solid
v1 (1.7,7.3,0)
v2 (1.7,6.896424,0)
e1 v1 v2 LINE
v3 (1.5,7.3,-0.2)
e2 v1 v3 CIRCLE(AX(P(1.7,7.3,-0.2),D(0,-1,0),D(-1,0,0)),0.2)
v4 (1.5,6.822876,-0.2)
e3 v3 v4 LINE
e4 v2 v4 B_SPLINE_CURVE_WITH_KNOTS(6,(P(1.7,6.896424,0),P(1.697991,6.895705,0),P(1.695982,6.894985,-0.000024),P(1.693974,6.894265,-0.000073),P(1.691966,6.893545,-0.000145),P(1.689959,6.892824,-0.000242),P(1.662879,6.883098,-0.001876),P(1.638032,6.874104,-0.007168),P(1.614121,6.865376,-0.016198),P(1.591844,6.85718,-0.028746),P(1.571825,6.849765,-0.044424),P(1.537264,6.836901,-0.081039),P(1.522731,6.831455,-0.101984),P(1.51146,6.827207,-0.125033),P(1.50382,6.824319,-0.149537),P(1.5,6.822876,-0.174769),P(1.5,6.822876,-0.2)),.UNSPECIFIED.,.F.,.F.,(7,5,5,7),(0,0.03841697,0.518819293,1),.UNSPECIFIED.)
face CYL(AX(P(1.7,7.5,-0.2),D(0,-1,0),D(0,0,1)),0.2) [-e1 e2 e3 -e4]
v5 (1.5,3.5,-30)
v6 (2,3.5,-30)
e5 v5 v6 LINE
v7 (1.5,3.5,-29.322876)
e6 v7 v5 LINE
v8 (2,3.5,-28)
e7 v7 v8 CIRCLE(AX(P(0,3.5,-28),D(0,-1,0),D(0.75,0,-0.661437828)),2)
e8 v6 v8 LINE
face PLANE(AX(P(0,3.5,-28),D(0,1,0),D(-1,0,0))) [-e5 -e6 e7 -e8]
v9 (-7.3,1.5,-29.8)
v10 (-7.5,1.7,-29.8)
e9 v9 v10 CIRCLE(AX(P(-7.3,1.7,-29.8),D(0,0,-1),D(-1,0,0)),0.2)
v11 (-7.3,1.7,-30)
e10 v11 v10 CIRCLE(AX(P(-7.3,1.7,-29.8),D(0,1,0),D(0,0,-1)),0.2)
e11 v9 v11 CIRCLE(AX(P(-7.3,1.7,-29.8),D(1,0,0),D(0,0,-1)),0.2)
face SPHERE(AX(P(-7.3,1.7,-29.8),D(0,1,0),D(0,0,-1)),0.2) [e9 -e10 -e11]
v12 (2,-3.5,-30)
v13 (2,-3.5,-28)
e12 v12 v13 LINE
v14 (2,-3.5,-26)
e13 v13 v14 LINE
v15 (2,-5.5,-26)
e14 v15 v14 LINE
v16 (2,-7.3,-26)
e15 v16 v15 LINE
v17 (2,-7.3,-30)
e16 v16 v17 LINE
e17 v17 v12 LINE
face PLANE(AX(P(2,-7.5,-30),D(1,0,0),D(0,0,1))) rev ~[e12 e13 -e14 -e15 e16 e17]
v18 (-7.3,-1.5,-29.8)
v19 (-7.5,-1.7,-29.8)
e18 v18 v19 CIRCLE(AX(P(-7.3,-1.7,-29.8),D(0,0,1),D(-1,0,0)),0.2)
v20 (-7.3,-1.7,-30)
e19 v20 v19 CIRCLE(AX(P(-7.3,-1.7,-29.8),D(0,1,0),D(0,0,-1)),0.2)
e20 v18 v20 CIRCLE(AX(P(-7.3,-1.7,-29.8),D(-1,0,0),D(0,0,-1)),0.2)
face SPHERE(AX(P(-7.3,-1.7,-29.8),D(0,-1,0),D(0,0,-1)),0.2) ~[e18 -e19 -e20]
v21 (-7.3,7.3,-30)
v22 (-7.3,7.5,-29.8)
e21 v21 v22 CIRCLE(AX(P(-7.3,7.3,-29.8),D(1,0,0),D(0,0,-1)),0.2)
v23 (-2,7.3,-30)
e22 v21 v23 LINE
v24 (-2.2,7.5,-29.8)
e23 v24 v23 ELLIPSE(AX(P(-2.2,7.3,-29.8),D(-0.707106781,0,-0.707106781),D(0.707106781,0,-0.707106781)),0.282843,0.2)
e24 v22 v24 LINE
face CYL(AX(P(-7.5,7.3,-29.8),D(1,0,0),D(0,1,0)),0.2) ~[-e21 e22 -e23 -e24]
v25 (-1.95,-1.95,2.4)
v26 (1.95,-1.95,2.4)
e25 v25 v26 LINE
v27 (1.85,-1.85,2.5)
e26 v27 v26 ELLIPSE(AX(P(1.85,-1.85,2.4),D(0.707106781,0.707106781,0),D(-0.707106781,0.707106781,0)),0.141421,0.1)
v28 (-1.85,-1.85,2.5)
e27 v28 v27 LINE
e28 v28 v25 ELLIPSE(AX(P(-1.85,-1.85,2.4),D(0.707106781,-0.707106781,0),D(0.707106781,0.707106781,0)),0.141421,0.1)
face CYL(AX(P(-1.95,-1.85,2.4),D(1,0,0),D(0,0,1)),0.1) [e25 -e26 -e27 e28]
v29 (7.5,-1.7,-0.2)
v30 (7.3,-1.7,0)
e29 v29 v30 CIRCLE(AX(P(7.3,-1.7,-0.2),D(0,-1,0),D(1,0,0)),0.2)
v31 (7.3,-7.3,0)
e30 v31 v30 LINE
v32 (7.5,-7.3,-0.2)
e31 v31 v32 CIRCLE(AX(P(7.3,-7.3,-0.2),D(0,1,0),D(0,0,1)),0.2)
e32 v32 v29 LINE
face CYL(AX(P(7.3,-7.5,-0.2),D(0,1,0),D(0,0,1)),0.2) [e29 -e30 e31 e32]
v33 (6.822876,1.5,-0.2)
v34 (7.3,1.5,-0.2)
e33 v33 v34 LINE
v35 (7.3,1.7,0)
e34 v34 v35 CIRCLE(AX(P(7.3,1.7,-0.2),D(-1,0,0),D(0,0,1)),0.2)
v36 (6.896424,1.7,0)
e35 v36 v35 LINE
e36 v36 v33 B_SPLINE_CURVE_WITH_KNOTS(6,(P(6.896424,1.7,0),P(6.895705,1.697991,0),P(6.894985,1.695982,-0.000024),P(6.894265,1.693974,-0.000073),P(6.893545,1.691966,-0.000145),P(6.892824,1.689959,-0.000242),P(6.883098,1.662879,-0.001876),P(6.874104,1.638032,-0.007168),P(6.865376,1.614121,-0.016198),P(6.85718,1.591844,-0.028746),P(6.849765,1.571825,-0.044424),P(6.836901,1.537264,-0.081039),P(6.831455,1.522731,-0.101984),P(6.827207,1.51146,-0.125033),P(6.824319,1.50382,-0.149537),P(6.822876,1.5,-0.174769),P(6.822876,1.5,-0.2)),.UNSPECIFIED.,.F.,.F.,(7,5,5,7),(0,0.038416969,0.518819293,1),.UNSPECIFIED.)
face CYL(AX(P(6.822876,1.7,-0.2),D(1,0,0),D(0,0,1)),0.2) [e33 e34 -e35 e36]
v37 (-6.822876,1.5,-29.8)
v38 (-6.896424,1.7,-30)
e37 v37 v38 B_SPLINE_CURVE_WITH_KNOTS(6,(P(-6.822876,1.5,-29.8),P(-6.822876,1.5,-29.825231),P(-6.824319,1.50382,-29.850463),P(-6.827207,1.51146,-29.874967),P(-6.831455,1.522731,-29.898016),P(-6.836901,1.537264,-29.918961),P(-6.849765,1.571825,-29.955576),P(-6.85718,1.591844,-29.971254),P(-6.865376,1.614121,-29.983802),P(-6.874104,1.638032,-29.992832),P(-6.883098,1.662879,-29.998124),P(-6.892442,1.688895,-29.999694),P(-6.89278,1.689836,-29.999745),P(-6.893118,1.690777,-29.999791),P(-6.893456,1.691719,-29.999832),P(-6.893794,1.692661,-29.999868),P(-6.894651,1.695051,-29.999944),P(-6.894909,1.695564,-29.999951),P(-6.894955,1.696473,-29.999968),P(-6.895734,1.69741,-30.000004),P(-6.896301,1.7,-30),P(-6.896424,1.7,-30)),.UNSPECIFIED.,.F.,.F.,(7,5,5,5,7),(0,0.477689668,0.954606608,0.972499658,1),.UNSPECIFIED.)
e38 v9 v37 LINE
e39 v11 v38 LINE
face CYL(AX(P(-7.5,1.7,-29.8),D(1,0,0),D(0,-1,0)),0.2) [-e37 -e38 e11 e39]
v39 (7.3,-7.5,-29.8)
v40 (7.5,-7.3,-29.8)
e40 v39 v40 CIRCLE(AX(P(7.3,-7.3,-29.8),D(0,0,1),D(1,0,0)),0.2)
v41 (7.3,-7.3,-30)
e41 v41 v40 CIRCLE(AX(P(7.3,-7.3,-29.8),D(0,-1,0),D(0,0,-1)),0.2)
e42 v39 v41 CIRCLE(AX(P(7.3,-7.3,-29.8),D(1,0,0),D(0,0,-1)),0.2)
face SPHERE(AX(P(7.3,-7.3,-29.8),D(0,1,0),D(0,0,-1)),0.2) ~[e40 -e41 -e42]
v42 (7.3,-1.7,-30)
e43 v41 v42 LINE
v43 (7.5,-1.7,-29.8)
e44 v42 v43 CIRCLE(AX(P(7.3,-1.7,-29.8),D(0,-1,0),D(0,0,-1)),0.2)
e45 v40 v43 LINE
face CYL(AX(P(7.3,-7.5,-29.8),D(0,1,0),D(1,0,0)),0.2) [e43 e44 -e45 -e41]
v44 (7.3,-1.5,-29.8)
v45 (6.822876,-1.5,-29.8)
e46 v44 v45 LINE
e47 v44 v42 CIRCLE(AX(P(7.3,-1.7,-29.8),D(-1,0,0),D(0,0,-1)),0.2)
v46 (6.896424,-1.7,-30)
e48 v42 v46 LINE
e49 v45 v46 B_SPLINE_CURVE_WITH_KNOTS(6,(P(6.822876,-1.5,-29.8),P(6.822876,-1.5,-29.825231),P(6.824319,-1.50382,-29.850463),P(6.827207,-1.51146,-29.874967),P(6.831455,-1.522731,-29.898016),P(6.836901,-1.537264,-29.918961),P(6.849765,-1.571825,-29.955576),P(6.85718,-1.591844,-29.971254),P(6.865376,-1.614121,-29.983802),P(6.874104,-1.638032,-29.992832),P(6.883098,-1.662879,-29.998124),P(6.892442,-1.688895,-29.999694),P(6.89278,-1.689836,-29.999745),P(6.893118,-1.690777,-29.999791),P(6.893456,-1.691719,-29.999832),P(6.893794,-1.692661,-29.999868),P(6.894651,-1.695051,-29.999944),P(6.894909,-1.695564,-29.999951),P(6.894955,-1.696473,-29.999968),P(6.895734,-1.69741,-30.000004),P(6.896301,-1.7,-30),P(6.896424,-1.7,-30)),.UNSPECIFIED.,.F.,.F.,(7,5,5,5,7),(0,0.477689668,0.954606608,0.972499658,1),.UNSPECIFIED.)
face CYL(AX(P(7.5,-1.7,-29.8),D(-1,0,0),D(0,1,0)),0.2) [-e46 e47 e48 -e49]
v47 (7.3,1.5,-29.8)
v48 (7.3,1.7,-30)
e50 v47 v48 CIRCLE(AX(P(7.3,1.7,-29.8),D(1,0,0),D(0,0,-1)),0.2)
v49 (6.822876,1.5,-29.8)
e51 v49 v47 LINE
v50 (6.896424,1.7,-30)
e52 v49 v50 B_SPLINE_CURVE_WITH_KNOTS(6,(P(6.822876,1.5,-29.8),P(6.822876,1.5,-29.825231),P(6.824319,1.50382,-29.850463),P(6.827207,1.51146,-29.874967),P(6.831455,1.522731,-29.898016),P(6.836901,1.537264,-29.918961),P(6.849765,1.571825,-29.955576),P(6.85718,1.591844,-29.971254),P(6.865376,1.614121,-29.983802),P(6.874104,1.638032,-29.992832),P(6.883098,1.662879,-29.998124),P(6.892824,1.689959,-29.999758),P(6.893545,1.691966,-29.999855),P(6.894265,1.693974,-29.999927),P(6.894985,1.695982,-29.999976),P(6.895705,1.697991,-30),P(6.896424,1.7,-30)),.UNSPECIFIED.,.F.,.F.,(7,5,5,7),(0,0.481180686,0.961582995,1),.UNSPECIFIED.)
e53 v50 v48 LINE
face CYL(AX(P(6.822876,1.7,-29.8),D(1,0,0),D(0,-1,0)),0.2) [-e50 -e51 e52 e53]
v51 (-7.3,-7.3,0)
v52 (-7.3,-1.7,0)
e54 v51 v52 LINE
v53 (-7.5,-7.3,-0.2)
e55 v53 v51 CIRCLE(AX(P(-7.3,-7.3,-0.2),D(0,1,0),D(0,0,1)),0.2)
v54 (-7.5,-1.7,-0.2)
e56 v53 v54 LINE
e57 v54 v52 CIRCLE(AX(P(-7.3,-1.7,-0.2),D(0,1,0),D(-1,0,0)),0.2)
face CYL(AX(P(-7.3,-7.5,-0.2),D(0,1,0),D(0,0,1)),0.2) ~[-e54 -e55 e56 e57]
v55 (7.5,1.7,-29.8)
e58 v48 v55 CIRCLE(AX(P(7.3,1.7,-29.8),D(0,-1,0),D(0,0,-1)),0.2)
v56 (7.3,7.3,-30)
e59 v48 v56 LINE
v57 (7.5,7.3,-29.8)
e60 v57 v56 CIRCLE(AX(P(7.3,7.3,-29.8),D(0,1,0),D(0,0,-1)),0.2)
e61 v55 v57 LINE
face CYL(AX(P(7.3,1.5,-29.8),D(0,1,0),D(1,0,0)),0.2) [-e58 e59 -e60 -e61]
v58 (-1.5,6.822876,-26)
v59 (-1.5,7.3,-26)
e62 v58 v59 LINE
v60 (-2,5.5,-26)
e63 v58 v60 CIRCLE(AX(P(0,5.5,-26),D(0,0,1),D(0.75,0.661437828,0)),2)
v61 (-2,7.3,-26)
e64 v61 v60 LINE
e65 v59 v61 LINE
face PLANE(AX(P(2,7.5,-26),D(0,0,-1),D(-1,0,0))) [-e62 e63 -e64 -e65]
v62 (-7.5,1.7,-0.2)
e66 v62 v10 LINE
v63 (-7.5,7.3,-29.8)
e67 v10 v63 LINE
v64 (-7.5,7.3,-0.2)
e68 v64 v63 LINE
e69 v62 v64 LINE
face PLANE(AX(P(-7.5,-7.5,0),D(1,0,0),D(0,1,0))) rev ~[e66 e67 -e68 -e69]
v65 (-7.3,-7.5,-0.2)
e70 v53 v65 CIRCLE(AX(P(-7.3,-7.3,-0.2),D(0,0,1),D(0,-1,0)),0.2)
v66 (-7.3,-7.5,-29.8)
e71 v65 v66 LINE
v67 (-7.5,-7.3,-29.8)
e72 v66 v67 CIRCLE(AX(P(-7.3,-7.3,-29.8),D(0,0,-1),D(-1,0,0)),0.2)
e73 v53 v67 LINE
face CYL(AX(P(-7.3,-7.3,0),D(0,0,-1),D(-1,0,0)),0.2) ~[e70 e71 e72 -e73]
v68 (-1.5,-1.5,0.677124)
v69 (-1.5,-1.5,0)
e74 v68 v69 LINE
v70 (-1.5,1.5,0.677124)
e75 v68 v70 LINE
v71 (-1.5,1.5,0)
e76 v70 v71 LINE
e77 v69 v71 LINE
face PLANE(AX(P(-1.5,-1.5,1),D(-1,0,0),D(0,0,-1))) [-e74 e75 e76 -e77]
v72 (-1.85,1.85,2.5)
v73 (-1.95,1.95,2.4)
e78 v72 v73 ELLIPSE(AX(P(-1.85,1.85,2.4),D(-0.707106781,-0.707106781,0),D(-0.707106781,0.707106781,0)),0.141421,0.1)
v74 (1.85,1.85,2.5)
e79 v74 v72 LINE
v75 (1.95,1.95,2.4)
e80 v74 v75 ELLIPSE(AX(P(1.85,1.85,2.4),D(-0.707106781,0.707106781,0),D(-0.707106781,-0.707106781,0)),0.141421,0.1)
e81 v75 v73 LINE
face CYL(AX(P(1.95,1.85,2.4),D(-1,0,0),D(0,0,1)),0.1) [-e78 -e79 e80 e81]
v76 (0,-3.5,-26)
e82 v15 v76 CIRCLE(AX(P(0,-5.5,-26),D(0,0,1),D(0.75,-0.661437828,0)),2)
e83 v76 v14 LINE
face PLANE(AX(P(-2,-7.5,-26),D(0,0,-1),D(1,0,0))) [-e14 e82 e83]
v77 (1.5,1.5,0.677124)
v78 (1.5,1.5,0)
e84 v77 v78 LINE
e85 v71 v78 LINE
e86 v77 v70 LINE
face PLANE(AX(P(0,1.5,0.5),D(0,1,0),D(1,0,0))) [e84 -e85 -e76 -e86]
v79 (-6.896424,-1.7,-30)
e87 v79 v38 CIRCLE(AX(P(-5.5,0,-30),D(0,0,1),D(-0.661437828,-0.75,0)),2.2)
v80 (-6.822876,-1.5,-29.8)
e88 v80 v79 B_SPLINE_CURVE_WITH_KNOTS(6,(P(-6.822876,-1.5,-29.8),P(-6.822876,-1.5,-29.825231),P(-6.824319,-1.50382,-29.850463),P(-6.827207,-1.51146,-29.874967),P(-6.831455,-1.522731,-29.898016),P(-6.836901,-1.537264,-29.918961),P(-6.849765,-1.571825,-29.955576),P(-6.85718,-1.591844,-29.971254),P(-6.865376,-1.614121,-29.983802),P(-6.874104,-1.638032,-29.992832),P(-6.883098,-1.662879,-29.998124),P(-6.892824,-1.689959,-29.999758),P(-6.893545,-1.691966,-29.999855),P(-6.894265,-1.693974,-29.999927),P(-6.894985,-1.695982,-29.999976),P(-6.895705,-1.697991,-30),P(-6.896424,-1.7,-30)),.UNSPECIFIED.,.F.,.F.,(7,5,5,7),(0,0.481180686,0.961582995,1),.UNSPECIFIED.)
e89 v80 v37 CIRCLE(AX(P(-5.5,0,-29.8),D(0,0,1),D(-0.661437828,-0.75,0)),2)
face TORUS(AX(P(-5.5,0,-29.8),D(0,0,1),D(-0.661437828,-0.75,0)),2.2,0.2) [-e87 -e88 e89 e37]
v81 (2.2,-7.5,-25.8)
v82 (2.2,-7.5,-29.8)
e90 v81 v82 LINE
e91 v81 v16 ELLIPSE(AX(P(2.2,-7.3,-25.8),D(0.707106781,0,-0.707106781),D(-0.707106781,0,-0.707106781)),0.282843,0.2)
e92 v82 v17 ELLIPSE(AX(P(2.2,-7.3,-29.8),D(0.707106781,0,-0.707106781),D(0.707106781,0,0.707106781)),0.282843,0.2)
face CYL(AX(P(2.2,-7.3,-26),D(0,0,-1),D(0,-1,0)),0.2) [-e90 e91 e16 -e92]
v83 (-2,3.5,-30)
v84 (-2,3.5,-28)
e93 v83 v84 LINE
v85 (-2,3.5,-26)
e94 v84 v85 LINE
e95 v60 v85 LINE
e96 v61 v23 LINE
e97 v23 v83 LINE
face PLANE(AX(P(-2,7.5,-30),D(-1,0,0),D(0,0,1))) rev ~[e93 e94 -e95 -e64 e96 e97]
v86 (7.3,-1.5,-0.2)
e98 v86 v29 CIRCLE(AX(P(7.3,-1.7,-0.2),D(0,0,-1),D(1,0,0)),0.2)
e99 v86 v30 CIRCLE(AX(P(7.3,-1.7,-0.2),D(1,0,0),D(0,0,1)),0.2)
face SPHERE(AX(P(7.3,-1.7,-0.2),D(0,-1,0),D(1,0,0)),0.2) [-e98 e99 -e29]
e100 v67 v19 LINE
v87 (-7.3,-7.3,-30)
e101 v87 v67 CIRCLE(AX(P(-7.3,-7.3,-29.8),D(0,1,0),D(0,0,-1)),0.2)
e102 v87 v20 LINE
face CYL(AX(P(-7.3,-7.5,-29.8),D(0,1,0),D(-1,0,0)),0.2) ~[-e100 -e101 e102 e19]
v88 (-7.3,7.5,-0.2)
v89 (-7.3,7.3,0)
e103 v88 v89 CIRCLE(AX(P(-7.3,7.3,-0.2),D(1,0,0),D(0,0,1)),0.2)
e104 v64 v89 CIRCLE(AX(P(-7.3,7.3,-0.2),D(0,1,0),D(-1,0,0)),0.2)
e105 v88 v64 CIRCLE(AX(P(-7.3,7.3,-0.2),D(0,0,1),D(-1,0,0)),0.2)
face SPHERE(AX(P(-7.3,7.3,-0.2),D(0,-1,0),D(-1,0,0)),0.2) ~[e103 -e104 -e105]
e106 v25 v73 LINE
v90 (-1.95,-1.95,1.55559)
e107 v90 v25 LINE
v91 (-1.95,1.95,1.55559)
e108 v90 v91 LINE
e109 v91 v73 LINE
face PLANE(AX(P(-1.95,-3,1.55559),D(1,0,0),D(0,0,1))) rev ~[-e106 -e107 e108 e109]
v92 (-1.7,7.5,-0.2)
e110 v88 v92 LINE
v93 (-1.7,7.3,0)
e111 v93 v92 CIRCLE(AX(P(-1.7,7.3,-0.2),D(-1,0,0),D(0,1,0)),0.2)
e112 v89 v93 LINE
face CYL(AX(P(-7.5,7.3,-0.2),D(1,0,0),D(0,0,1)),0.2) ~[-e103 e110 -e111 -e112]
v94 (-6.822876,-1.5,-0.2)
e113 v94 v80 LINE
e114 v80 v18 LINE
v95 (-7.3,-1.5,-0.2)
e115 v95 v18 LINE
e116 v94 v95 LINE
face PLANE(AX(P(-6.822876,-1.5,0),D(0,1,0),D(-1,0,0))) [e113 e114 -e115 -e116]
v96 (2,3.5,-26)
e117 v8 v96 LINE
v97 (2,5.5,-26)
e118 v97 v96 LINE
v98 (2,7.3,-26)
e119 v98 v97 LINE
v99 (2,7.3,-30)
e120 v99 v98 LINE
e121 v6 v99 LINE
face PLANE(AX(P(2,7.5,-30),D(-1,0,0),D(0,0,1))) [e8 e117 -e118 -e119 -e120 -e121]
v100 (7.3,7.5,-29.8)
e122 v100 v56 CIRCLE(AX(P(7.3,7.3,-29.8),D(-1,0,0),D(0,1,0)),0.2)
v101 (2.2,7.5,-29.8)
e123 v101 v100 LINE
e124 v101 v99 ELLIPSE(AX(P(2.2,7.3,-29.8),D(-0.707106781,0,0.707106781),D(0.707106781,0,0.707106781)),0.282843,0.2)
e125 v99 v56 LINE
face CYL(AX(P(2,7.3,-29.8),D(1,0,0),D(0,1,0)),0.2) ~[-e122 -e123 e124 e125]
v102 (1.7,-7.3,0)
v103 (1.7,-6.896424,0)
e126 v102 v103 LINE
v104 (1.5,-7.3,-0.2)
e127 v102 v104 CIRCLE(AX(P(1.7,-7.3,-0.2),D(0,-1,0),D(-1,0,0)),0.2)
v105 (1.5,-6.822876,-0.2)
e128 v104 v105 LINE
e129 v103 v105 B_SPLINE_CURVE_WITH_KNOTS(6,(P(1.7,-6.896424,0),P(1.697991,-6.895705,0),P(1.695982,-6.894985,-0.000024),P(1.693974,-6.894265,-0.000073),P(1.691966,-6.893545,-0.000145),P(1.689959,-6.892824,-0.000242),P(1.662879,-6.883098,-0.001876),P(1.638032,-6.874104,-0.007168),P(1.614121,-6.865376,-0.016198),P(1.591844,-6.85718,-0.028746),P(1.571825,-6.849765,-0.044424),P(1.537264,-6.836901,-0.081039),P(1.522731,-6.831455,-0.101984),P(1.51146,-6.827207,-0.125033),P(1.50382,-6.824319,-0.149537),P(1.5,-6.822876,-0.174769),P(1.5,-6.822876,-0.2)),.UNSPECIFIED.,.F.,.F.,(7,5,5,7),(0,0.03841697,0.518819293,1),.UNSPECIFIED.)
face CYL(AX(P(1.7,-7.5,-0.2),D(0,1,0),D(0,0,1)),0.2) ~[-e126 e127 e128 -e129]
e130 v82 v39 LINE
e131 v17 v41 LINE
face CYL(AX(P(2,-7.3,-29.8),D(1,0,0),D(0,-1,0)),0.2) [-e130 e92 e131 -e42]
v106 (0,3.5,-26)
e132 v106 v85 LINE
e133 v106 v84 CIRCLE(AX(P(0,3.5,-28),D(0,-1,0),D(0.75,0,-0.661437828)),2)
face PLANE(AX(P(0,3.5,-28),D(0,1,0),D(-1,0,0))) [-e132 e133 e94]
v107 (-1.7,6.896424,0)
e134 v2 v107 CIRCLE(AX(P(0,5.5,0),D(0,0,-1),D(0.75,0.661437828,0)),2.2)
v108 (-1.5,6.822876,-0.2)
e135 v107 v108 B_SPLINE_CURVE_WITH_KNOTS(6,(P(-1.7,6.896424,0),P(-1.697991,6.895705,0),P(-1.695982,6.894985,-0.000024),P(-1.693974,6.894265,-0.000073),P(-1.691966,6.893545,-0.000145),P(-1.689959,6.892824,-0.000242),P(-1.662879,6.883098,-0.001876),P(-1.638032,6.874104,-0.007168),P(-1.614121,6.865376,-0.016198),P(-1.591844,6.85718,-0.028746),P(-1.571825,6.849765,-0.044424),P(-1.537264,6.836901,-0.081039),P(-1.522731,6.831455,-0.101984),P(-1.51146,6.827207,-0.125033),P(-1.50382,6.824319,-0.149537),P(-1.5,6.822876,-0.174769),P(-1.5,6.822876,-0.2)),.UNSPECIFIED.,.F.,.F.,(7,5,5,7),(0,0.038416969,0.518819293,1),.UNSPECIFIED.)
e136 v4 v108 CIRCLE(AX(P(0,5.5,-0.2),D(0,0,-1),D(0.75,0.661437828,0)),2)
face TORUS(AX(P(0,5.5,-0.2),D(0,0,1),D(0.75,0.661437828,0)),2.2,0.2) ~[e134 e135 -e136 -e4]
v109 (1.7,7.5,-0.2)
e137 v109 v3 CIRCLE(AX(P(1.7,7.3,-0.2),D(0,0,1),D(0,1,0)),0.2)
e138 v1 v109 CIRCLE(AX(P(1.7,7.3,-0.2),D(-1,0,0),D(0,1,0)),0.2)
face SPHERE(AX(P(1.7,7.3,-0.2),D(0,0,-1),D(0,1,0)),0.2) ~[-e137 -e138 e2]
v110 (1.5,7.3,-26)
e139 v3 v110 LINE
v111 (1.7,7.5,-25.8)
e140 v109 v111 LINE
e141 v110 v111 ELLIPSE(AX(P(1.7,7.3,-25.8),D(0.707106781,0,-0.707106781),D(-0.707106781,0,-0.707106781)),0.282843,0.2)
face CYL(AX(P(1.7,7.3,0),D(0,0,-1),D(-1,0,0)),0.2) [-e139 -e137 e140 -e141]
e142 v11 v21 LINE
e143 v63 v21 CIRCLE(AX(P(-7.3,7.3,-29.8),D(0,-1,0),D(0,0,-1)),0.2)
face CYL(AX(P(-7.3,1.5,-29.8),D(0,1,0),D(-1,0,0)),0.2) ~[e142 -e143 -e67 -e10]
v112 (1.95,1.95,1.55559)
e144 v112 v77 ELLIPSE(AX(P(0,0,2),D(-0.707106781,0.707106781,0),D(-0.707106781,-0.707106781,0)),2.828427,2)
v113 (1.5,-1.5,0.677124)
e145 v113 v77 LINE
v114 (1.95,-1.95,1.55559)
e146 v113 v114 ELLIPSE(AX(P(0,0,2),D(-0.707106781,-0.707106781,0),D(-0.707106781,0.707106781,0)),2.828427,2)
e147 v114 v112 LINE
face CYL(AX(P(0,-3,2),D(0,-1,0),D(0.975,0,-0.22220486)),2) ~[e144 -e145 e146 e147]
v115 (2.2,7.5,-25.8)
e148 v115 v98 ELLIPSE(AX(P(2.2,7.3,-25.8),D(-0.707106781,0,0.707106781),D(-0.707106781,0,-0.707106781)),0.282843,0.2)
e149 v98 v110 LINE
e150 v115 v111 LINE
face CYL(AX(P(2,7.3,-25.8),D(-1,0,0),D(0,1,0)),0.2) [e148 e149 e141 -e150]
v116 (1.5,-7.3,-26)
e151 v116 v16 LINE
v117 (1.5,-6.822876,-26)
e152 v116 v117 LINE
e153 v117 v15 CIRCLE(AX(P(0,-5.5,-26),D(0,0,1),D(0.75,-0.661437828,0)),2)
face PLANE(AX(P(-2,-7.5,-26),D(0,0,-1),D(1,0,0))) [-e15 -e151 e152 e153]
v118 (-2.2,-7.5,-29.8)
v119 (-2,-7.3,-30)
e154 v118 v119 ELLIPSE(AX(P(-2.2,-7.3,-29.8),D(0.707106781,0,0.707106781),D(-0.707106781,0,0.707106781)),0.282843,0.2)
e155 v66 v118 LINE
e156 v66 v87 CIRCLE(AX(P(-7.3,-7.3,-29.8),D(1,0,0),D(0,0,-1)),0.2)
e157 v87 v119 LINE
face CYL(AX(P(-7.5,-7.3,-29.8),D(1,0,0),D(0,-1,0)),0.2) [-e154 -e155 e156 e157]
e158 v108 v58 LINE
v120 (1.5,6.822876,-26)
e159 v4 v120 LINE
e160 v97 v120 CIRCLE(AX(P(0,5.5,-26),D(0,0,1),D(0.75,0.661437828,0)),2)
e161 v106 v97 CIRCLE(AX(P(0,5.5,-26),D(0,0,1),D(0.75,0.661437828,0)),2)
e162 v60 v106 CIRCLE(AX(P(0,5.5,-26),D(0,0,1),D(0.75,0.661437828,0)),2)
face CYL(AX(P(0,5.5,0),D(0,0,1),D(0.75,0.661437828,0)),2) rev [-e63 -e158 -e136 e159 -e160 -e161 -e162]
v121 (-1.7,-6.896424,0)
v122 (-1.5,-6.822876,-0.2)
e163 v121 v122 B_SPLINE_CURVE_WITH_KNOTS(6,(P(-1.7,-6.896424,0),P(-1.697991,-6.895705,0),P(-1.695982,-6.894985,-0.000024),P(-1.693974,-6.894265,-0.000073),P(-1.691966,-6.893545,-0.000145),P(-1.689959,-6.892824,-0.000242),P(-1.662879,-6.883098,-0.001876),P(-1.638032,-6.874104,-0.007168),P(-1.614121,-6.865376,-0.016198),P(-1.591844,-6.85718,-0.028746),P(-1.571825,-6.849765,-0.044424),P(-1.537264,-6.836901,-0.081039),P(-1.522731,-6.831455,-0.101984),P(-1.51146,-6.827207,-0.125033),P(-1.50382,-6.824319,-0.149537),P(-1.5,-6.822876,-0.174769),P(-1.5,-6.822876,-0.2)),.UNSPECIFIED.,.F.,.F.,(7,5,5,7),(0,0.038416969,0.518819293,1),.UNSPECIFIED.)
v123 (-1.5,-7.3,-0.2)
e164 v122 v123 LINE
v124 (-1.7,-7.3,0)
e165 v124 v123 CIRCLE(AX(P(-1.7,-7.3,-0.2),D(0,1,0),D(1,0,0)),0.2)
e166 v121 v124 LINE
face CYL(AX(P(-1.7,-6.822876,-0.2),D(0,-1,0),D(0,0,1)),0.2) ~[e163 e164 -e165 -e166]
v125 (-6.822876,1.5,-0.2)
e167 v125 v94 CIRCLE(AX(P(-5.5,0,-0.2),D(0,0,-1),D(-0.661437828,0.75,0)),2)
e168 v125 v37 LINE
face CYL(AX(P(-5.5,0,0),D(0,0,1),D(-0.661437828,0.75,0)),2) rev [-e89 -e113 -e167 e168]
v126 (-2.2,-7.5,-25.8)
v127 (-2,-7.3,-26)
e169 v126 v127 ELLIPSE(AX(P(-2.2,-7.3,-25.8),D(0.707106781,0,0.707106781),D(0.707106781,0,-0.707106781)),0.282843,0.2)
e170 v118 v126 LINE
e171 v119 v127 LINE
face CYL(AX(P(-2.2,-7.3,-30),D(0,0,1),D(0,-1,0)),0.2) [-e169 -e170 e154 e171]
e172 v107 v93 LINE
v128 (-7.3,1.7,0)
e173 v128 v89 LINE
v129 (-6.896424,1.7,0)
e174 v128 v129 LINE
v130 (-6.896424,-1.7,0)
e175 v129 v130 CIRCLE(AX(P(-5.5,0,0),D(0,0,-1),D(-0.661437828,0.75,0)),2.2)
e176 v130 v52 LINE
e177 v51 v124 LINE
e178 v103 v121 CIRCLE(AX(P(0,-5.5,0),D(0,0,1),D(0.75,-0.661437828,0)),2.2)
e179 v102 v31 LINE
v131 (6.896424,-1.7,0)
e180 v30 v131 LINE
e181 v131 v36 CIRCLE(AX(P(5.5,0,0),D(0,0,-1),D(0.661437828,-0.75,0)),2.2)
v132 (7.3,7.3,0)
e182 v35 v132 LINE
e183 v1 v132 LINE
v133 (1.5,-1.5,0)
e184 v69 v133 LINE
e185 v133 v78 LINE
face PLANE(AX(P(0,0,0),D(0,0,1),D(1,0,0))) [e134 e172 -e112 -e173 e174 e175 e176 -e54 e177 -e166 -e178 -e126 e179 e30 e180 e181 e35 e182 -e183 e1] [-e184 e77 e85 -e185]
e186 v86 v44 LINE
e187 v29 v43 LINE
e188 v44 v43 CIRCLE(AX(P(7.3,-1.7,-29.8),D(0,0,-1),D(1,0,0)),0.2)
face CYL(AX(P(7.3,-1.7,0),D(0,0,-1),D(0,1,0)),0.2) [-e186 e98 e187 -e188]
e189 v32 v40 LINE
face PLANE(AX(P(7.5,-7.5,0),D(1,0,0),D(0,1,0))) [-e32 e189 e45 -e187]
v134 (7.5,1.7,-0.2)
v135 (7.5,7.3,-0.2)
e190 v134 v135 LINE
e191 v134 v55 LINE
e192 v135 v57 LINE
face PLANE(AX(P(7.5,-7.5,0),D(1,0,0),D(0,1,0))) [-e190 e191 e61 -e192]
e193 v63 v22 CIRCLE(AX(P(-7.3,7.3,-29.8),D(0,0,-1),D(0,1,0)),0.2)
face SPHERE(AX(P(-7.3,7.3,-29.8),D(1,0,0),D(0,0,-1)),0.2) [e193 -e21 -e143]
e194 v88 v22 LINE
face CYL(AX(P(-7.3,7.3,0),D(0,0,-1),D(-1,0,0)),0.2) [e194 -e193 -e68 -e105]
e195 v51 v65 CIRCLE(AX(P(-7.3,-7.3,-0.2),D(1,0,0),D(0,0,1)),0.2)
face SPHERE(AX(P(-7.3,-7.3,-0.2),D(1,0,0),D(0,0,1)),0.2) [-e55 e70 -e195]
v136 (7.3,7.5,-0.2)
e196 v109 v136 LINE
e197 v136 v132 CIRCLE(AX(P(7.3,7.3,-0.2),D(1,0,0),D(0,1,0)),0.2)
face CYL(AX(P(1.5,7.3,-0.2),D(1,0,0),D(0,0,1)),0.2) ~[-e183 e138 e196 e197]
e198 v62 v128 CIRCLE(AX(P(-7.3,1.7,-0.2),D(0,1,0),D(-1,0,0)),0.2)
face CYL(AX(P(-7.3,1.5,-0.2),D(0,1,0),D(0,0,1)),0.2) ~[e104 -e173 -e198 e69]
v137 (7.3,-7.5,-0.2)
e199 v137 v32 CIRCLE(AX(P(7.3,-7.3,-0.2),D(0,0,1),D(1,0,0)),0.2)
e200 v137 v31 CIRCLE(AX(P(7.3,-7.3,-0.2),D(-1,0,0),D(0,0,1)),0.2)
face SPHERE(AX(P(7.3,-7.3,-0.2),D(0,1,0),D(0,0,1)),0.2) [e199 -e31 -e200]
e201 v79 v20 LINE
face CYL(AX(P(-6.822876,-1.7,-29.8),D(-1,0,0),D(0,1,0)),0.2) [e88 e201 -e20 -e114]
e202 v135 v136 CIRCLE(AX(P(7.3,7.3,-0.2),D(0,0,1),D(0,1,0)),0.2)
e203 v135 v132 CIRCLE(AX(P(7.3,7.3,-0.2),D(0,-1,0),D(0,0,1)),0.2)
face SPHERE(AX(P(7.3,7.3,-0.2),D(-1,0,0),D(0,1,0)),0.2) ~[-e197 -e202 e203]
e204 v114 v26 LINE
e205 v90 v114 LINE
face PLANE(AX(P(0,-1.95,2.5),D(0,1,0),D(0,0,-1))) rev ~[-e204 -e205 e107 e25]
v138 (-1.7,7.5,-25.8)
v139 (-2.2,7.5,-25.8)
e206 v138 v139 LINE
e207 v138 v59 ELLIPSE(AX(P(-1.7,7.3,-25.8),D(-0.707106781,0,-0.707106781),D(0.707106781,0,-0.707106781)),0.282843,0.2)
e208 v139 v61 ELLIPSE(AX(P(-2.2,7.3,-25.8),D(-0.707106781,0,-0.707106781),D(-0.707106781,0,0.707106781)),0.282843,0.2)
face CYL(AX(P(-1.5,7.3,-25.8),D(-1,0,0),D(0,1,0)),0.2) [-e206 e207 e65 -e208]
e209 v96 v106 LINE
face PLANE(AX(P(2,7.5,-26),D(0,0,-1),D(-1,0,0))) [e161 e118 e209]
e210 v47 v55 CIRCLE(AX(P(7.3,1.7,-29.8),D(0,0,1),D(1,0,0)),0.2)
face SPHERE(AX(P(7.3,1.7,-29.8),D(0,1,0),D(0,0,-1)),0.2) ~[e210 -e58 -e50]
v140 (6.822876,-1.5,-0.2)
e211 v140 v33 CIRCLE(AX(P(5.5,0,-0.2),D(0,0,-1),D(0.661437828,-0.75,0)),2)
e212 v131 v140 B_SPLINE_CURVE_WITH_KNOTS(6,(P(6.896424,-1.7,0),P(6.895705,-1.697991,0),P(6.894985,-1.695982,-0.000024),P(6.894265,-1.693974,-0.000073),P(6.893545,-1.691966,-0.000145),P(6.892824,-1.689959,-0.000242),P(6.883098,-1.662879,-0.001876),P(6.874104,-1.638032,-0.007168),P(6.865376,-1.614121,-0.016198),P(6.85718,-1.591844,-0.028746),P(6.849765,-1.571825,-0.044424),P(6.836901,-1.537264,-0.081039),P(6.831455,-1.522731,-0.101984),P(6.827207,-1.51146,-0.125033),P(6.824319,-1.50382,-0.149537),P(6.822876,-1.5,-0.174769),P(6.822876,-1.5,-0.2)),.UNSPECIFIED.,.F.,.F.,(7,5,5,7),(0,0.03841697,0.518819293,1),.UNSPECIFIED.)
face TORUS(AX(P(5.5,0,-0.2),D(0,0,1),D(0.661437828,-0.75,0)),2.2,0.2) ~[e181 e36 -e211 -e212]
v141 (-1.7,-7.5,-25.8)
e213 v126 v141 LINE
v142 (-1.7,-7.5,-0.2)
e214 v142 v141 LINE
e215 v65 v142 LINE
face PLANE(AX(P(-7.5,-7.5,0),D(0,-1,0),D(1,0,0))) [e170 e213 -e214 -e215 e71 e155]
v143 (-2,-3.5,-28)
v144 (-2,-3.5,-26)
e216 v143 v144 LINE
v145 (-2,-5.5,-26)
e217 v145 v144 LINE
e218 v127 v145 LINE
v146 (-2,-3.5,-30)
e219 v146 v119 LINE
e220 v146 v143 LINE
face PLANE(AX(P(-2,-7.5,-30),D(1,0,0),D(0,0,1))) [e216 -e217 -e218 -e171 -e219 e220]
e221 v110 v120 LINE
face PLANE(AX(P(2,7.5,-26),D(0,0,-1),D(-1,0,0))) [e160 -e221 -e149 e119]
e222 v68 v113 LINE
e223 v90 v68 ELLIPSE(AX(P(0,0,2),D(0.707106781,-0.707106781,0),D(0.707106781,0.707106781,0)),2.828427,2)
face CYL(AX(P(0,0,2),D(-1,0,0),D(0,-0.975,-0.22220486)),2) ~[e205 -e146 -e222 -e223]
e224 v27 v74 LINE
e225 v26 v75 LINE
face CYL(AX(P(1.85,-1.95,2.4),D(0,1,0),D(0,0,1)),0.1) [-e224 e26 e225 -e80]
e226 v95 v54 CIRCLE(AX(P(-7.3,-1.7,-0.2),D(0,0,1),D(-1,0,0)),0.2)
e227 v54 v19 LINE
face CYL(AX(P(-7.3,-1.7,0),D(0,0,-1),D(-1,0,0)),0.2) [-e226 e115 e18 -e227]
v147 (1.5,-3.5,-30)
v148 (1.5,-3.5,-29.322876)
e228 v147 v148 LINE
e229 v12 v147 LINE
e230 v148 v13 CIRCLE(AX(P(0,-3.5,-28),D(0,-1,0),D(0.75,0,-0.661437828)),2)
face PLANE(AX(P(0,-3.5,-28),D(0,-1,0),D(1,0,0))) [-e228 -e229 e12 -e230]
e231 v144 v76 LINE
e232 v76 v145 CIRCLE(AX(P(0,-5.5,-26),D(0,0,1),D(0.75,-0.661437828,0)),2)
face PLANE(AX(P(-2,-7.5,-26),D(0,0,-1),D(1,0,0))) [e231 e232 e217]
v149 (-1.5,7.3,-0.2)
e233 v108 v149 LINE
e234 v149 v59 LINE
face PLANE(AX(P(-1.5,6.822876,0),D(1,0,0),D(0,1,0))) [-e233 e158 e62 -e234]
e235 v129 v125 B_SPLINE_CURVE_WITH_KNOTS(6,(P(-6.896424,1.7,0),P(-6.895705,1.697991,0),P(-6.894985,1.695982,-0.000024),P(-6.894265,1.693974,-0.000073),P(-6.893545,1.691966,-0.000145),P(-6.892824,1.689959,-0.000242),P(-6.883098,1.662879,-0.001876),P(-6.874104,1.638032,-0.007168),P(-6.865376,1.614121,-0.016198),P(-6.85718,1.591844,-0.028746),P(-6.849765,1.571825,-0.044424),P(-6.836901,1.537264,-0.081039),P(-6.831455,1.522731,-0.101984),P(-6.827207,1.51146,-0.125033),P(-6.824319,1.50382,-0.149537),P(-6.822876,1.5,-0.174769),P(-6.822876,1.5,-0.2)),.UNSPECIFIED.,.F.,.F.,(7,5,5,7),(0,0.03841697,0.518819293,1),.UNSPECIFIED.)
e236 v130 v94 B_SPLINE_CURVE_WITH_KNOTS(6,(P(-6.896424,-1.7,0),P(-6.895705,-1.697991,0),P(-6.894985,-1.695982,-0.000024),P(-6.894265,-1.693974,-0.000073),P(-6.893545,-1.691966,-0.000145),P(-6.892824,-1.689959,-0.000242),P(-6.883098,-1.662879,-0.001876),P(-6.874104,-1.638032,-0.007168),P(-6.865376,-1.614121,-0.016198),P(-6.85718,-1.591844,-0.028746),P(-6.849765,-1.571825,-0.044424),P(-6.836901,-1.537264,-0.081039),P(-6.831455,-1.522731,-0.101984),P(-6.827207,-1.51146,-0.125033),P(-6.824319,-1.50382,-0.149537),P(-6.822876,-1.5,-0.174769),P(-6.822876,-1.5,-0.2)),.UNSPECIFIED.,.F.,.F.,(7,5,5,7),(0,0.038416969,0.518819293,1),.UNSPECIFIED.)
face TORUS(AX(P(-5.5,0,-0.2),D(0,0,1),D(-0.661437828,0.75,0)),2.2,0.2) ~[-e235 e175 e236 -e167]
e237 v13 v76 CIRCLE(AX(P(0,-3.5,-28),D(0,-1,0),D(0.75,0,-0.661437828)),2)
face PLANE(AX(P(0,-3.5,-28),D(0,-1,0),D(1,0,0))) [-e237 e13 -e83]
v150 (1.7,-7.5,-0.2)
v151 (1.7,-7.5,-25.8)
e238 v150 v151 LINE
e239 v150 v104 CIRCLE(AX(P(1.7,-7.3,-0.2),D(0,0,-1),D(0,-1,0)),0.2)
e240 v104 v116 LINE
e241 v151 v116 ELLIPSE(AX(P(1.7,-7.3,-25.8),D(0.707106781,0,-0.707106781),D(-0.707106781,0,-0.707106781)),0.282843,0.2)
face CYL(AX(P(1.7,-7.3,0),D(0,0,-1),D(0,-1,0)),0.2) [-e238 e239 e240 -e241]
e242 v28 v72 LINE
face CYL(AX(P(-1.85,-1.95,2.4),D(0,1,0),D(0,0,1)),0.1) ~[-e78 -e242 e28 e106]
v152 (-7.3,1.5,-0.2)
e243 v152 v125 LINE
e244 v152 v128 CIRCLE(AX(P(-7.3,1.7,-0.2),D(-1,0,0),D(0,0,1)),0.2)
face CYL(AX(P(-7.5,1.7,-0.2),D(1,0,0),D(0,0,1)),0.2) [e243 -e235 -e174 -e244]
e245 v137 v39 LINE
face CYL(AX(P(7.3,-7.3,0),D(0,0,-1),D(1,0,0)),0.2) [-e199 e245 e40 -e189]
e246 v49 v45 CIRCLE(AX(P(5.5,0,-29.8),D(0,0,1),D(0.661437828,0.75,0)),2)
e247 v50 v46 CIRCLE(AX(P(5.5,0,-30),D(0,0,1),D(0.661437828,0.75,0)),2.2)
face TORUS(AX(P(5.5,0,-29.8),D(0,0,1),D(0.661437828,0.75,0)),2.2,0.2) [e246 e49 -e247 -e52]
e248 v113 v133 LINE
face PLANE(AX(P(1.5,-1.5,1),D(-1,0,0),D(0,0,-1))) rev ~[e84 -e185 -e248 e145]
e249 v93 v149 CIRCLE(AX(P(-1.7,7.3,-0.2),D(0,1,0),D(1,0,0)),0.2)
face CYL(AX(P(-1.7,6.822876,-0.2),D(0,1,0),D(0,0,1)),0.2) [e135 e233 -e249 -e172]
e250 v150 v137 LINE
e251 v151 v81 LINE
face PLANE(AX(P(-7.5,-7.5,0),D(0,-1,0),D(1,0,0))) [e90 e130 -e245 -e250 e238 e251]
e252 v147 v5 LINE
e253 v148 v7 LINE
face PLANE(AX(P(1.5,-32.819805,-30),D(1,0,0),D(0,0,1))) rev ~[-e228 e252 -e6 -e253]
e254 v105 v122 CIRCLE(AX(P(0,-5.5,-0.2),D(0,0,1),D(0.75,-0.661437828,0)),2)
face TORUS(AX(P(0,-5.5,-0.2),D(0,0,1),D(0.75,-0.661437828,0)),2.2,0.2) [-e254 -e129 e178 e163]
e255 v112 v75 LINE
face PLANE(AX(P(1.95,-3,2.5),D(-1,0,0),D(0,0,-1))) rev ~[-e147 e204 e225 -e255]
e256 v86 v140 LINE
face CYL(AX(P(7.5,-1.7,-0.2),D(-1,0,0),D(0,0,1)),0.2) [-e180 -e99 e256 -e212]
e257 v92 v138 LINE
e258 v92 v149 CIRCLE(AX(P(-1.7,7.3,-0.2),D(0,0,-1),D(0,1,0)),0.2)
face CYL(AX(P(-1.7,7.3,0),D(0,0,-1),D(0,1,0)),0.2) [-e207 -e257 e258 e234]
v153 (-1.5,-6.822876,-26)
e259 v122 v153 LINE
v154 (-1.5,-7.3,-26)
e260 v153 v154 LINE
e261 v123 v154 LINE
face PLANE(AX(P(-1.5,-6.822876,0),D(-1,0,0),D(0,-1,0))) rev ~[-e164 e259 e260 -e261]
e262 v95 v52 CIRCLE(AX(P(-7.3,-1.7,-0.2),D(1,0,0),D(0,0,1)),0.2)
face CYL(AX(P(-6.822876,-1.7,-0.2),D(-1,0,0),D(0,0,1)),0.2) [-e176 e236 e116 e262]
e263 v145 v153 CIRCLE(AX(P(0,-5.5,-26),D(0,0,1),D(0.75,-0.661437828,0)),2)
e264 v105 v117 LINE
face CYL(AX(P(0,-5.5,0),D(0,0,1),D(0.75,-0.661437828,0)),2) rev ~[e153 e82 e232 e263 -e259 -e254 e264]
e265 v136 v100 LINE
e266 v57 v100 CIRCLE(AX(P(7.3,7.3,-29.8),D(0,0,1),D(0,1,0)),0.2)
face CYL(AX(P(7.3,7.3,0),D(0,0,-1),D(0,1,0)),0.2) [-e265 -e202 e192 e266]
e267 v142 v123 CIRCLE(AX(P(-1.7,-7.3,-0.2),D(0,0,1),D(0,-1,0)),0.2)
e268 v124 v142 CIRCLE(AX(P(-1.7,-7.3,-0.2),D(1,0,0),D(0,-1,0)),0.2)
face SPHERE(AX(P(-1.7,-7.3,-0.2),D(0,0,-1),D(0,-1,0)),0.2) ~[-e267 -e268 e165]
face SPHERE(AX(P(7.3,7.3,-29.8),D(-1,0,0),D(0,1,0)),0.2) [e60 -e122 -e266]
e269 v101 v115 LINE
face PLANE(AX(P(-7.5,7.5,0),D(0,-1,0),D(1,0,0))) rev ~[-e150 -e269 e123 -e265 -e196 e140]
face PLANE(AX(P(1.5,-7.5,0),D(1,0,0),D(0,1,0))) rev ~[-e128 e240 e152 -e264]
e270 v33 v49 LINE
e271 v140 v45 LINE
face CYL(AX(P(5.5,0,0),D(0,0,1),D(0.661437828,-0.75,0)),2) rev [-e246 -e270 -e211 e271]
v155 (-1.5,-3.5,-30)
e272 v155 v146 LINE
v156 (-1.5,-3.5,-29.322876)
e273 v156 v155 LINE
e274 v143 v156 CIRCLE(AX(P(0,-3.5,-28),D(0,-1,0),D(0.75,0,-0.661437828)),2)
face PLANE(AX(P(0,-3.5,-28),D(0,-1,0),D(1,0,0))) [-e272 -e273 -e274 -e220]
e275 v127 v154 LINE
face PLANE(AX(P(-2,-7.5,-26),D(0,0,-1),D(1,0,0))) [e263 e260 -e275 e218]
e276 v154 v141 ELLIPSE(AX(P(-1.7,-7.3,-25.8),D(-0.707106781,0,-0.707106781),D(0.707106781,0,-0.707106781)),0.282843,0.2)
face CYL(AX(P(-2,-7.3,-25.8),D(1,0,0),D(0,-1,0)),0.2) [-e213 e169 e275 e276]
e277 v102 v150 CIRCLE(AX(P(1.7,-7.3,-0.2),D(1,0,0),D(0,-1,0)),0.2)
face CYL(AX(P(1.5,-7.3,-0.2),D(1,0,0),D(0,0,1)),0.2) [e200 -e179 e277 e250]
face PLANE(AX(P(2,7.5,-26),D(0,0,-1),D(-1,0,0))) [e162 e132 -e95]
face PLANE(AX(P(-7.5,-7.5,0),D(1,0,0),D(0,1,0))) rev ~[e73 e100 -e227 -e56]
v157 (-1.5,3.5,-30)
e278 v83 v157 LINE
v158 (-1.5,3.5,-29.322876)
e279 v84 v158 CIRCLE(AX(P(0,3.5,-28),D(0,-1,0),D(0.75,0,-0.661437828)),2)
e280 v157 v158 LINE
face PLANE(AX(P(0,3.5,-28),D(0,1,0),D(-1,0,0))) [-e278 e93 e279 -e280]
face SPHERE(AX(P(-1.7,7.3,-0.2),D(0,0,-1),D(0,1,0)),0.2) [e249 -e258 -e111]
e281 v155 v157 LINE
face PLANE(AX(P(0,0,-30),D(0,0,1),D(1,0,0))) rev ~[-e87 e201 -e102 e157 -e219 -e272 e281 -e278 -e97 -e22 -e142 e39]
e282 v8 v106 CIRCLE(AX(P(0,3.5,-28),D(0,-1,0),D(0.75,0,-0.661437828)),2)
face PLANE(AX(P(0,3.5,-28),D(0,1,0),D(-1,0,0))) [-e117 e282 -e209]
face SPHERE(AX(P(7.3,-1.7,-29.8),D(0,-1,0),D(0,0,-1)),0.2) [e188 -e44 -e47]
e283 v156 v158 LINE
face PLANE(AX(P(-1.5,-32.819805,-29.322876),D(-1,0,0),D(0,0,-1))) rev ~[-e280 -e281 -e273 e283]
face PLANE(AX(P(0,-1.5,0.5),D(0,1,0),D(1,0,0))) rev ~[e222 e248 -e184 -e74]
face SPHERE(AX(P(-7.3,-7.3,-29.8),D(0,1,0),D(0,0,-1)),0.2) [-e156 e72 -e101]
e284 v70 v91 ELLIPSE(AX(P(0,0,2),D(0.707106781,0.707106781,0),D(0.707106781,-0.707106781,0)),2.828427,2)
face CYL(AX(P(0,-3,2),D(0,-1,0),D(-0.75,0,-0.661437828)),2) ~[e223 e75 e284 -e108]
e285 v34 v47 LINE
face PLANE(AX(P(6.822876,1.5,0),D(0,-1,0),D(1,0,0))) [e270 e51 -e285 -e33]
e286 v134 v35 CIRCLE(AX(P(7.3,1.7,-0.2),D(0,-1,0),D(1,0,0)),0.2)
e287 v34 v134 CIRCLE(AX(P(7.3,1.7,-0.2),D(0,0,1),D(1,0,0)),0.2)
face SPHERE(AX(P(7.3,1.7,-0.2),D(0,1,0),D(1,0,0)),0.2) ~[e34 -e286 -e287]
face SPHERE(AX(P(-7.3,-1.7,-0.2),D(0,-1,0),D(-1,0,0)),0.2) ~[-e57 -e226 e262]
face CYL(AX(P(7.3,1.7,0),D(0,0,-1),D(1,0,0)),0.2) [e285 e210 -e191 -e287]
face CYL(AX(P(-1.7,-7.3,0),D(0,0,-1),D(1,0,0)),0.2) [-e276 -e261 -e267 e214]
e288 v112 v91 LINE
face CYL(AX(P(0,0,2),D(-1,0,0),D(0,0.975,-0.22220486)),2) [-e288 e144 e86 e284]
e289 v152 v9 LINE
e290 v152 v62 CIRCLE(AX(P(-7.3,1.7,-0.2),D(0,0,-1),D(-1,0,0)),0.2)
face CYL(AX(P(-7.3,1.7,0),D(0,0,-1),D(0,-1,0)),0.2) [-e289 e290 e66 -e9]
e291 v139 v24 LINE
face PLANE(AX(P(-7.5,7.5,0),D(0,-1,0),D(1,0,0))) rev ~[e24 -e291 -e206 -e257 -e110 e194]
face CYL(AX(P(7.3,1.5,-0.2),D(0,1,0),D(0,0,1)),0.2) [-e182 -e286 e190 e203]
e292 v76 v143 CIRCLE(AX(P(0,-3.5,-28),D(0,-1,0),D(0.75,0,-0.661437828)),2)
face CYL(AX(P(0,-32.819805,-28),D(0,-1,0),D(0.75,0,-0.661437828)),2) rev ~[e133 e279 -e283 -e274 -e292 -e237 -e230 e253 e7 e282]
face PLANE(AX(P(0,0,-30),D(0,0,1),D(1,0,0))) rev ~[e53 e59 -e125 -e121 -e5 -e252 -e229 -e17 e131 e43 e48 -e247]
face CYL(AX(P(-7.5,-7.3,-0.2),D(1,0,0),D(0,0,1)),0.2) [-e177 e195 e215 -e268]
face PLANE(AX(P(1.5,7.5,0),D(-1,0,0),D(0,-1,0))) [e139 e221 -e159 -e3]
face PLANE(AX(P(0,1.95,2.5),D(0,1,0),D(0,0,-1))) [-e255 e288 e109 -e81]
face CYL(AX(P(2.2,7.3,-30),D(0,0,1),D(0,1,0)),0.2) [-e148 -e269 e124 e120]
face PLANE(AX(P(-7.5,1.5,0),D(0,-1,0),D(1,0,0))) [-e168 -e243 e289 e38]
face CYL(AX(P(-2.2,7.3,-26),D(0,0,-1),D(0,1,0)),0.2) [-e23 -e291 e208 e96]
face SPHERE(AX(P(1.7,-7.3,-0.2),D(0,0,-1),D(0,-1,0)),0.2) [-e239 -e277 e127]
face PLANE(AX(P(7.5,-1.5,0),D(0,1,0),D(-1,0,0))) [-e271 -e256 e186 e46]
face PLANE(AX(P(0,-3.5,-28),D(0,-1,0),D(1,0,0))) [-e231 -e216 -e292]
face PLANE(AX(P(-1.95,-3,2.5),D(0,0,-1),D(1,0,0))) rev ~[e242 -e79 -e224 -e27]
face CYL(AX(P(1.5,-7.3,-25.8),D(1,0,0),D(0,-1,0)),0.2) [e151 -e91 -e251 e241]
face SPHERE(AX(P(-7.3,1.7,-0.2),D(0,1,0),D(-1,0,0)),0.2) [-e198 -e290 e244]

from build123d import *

# Parameters (mm, degrees)
SKETCH_1_W                      = 15
SKETCH_1_H                      = 15
EXTRUDE_1_DEPTH                 = 30
EXTRUDE_2_DEPTH                 = 1.5
EXTRUDE_2_DEPTH_BACK            = 1.5
SKETCH_2_W                      = 3
SKETCH_2_H                      = 1
EXTRUDE_3_DEPTH                 = 3
EXTRUDE_3_DEPTH_BACK            = 3
CUT_EXTRUDE_2_DEPTH             = 32.819805153
SKETCH_6_W                      = 4
SKETCH_6_H                      = 4
CUT_EXTRUDE_3_DEPTH             = 4
SKETCH_9_W                      = 4
SKETCH_9_H                      = 4
CUT_EXTRUDE_5_DEPTH             = 4
CUT_EXTRUDE_6_DEPTH             = 32.819805153
CUT_EXTRUDE_6_DEPTH_BACK        = 32.819805153
CUT_EXTRUDE_7_REACH             = 33.82
CUT_EXTRUDE_7_DIRECTION_2_REACH = 33.82
FILLET_2_R                      = 0.1
FILLET_3_R                      = 0.2


with BuildPart() as part:
    # 草图1 → 凸台-拉伸1 (new body)
    with BuildSketch(Plane.XY):
        Rectangle(SKETCH_1_W, SKETCH_1_H)
    extrude(amount=-EXTRUDE_1_DEPTH)

    # 草图2 → 凸台-拉伸2 (add, two sides: drawn at the far end of the back side and taken through both)
    with BuildSketch(Plane(origin=(0, 0, 0), x_dir=(1, 0, 0), z_dir=(0, 1, 0)).offset(-EXTRUDE_2_DEPTH_BACK)):
        with Locations((0, -0.5)):
            Rectangle(SKETCH_2_W, SKETCH_2_H)
    extrude(amount=EXTRUDE_2_DEPTH + EXTRUDE_2_DEPTH_BACK)

    # 草图3 → 凸台-拉伸3 (add, two sides: drawn at the far end of the back side and taken through both)
    with BuildSketch(Plane(origin=(0, 0, 0), x_dir=(1, 0, 0), z_dir=(0, 1, 0)).offset(-EXTRUDE_3_DEPTH_BACK)):
        with BuildLine():
            Line((-1.95, -2.5), (1.95, -2.5))
            Line((1.95, -2.5), (1.95, -1.555590279))
            ThreePointArc((1.95, -1.555590279), (1.780042303, -1.088161527), (1.5, -0.677124344))
            Line((1.5, -0.677124344), (-1.5, -0.677124344))
            ThreePointArc((-1.5, -0.677124344), (-1.780042303, -1.088161527), (-1.95, -1.555590279))
            Line((-1.95, -1.555590279), (-1.95, -2.5))
        make_face()
    extrude(amount=EXTRUDE_3_DEPTH + EXTRUDE_3_DEPTH_BACK)

    # 草图5 → 切除-拉伸2 (cut, through all)
    with BuildSketch(Plane.XY):
        with BuildLine():
            Line((-1.5, -7.5), (1.5, -7.5))
            Line((1.5, -7.5), (1.5, -6.822875656))
            ThreePointArc((1.5, -6.822875656), (0, -3.5), (-1.5, -6.822875656))
            Line((-1.5, -6.822875656), (-1.5, -7.5))
        make_face()
        with BuildLine():
            Line((1.5, 7.5), (1.5, 6.822875656))
            ThreePointArc((1.5, 6.822875656), (0, 3.5), (-1.5, 6.822875656))
            Line((-1.5, 6.822875656), (-1.5, 7.5))
            Line((-1.5, 7.5), (1.5, 7.5))
        make_face()
        with BuildLine():
            Line((-7.5, 1.5), (-6.822875656, 1.5))
            ThreePointArc((-6.822875656, 1.5), (-3.5, 0), (-6.822875656, -1.5))
            Line((-6.822875656, -1.5), (-7.5, -1.5))
            Line((-7.5, -1.5), (-7.5, 1.5))
        make_face()
        with BuildLine():
            Line((7.5, -1.5), (6.822875656, -1.5))
            ThreePointArc((6.822875656, -1.5), (3.5, 0), (6.822875656, 1.5))
            Line((6.822875656, 1.5), (7.5, 1.5))
            Line((7.5, 1.5), (7.5, -1.5))
        make_face()
    extrude(amount=-CUT_EXTRUDE_2_DEPTH, mode=Mode.SUBTRACT)

    # 草图6 → 切除-拉伸3 (cut)
    with BuildSketch(Plane(origin=(0, 7.5, 0), x_dir=(-1, 0, 0), z_dir=(0, 1, 0))):
        with Locations((0, -28)):
            Rectangle(SKETCH_6_W, SKETCH_6_H)
    extrude(amount=-CUT_EXTRUDE_3_DEPTH, mode=Mode.SUBTRACT)

    # 草图9 → 切除-拉伸5 (cut)
    with BuildSketch(Plane.XZ.offset(7.5)):
        with Locations((0, -28)):
            Rectangle(SKETCH_9_W, SKETCH_9_H)
    extrude(amount=-CUT_EXTRUDE_5_DEPTH, mode=Mode.SUBTRACT)

    # 草图11 → 切除-拉伸6 (cut, two sides: drawn at the far end of the back side and taken through both)
    with BuildSketch(Plane(origin=(0, 0, 0), x_dir=(1, 0, 0), z_dir=(0, 1, 0)).offset(-CUT_EXTRUDE_6_DEPTH_BACK)):
        with BuildLine():
            Line((-1.5, 30), (1.5, 30))
            Line((1.5, 30), (1.5, 29.322875656))
            ThreePointArc((1.5, 29.322875656), (0, 26), (-1.5, 29.322875656))
            Line((-1.5, 29.322875656), (-1.5, 30))
        make_face()
    extrude(amount=CUT_EXTRUDE_6_DEPTH + CUT_EXTRUDE_6_DEPTH_BACK, mode=Mode.SUBTRACT)

    # 草图12 → 切除-拉伸7 (cut, up to next)
    with BuildSketch(Plane(origin=(0, 0, 0), x_dir=(0, 0, -1), z_dir=(1, 0, 0)), mode=Mode.PRIVATE) as cut_extrude_7_sk1:
        with BuildLine():
            Line((-2.5, 3), (-2.5, 1.95))
            Line((-2.5, 1.95), (-1.555590279, 1.95))
            ThreePointArc((-1.555590279, 1.95), (-1.088161527, 1.780042303), (-0.677124344, 1.5))
            Line((-0.677124344, 1.5), (-0.677124344, 3))
            Line((-0.677124344, 3), (-2.5, 3))
        make_face()
    cut_extrude_7_tool1 = extrude(cut_extrude_7_sk1.sketch, amount=-CUT_EXTRUDE_7_REACH, mode=Mode.PRIVATE) & part.part
    # 草图12 → 切除-拉伸7 (cut, up to next)
    with BuildSketch(Plane(origin=(0, 0, 0), x_dir=(0, 0, -1), z_dir=(1, 0, 0)), mode=Mode.PRIVATE) as cut_extrude_7_sk2:
        with BuildLine():
            Line((-2.5, -1.95), (-1.555590279, -1.95))
            ThreePointArc((-1.555590279, -1.95), (-1.088161527, -1.780042303), (-0.677124344, -1.5))
            Line((-0.677124344, -1.5), (-0.677124344, -3))
            Line((-0.677124344, -3), (-2.5, -3))
            Line((-2.5, -3), (-2.5, -1.95))
        make_face()
    cut_extrude_7_tool2 = extrude(cut_extrude_7_sk2.sketch, amount=-CUT_EXTRUDE_7_REACH, mode=Mode.PRIVATE) & part.part
    add(cut_extrude_7_tool1.solids().sort_by_distance((0, 2.424924, 1.539049))[0], mode=Mode.SUBTRACT)
    add(cut_extrude_7_tool2.solids().sort_by_distance((0, -2.424924, 1.539049))[0], mode=Mode.SUBTRACT)

    # 草图12 → 切除-拉伸7 direction 2 (cut, up to next)
    with BuildSketch(Plane(origin=(0, 0, 0), x_dir=(0, 0, -1), z_dir=(1, 0, 0)), mode=Mode.PRIVATE) as cut_extrude_7_direction_2_sk1:
        with BuildLine():
            Line((-2.5, 3), (-2.5, 1.95))
            Line((-2.5, 1.95), (-1.555590279, 1.95))
            ThreePointArc((-1.555590279, 1.95), (-1.088161527, 1.780042303), (-0.677124344, 1.5))
            Line((-0.677124344, 1.5), (-0.677124344, 3))
            Line((-0.677124344, 3), (-2.5, 3))
        make_face()
    cut_extrude_7_direction_2_tool1 = extrude(cut_extrude_7_direction_2_sk1.sketch, amount=CUT_EXTRUDE_7_DIRECTION_2_REACH, mode=Mode.PRIVATE) & part.part
    # 草图12 → 切除-拉伸7 direction 2 (cut, up to next)
    with BuildSketch(Plane(origin=(0, 0, 0), x_dir=(0, 0, -1), z_dir=(1, 0, 0)), mode=Mode.PRIVATE) as cut_extrude_7_direction_2_sk2:
        with BuildLine():
            Line((-2.5, -1.95), (-1.555590279, -1.95))
            ThreePointArc((-1.555590279, -1.95), (-1.088161527, -1.780042303), (-0.677124344, -1.5))
            Line((-0.677124344, -1.5), (-0.677124344, -3))
            Line((-0.677124344, -3), (-2.5, -3))
            Line((-2.5, -3), (-2.5, -1.95))
        make_face()
    cut_extrude_7_direction_2_tool2 = extrude(cut_extrude_7_direction_2_sk2.sketch, amount=CUT_EXTRUDE_7_DIRECTION_2_REACH, mode=Mode.PRIVATE) & part.part
    add(cut_extrude_7_direction_2_tool1.solids().sort_by_distance((0, 2.424924, 1.539049))[0], mode=Mode.SUBTRACT)
    add(cut_extrude_7_direction_2_tool2.solids().sort_by_distance((0, -2.424924, 1.539049))[0], mode=Mode.SUBTRACT)

    # 圆角2
    fillet_2_edges = [part.edges().sort_by_distance(p)[0] for p in [
        (0, 1.95, 2.5),
        (-1.95, 0, 2.5),
        (1.95, 0, 2.5),
        (0, -1.95, 2.5),
    ]]
    fillet(fillet_2_edges, radius=FILLET_2_R)

    # 圆角3
    fillet_3_edges = [part.edges().sort_by_distance(p)[0] for p in [
        (7.5, -4.5, -30),
        (1.5, 7.5, -13),
        (-1.5, 7.5, -13),
        (-4.75, 7.5, -30),
        (-1.75, 7.5, -26),
        (-2, 7.5, -28),
        (1.75, 7.5, -26),
        (2, 7.5, -28),
        (4.75, 7.5, -30),
        (-1.5, -7.5, -13),
        (1.5, -7.5, -13),
        (4.75, -7.5, -30),
        (2, -7.5, -28),
        (1.75, -7.5, -26),
        (-1.75, -7.5, -26),
        (-2, -7.5, -28),
        (-7.5, 4.5, -30),
        (4.5, 7.5, 0),
        (7.5, -4.5, 0),
        (4.5, -7.5, 0),
        (-4.5, -7.5, 0),
        (0, -3.5, 0),
        (-1.5, -7.161437828, 0),
        (1.5, -7.161437828, 0),
        (-7.5, 4.5, 0),
        (-7.5, -4.5, -30),
        (-7.5, -4.5, 0),
        (-3.5, 0, -30),
        (-7.161437828, -1.5, -30),
        (-7.5, -1.5, -15),
        (-7.161437828, 1.5, -30),
        (-7.5, 1.5, -15),
        (-3.5, 0, 0),
        (-7.161437828, 1.5, 0),
        (-7.161437828, -1.5, 0),
        (-4.75, -7.5, -30),
        (-7.5, 7.5, -15),
        (7.5, 7.5, -15),
        (7.5, -7.5, -15),
        (-4.5, 7.5, 0),
        (-7.5, -7.5, -15),
        (0, 3.5, 0),
        (1.5, 7.161437828, 0),
        (-1.5, 7.161437828, 0),
        (7.5, 4.5, -30),
        (7.5, 4.5, 0),
        (3.5, 0, -30),
        (7.161437828, 1.5, -30),
        (7.5, 1.5, -15),
        (7.161437828, -1.5, -30),
        (7.5, -1.5, -15),
        (3.5, 0, 0),
        (7.161437828, -1.5, 0),
        (7.161437828, 1.5, 0),
    ]]
    fillet(fillet_3_edges, radius=FILLET_3_R)


solid = part.part
